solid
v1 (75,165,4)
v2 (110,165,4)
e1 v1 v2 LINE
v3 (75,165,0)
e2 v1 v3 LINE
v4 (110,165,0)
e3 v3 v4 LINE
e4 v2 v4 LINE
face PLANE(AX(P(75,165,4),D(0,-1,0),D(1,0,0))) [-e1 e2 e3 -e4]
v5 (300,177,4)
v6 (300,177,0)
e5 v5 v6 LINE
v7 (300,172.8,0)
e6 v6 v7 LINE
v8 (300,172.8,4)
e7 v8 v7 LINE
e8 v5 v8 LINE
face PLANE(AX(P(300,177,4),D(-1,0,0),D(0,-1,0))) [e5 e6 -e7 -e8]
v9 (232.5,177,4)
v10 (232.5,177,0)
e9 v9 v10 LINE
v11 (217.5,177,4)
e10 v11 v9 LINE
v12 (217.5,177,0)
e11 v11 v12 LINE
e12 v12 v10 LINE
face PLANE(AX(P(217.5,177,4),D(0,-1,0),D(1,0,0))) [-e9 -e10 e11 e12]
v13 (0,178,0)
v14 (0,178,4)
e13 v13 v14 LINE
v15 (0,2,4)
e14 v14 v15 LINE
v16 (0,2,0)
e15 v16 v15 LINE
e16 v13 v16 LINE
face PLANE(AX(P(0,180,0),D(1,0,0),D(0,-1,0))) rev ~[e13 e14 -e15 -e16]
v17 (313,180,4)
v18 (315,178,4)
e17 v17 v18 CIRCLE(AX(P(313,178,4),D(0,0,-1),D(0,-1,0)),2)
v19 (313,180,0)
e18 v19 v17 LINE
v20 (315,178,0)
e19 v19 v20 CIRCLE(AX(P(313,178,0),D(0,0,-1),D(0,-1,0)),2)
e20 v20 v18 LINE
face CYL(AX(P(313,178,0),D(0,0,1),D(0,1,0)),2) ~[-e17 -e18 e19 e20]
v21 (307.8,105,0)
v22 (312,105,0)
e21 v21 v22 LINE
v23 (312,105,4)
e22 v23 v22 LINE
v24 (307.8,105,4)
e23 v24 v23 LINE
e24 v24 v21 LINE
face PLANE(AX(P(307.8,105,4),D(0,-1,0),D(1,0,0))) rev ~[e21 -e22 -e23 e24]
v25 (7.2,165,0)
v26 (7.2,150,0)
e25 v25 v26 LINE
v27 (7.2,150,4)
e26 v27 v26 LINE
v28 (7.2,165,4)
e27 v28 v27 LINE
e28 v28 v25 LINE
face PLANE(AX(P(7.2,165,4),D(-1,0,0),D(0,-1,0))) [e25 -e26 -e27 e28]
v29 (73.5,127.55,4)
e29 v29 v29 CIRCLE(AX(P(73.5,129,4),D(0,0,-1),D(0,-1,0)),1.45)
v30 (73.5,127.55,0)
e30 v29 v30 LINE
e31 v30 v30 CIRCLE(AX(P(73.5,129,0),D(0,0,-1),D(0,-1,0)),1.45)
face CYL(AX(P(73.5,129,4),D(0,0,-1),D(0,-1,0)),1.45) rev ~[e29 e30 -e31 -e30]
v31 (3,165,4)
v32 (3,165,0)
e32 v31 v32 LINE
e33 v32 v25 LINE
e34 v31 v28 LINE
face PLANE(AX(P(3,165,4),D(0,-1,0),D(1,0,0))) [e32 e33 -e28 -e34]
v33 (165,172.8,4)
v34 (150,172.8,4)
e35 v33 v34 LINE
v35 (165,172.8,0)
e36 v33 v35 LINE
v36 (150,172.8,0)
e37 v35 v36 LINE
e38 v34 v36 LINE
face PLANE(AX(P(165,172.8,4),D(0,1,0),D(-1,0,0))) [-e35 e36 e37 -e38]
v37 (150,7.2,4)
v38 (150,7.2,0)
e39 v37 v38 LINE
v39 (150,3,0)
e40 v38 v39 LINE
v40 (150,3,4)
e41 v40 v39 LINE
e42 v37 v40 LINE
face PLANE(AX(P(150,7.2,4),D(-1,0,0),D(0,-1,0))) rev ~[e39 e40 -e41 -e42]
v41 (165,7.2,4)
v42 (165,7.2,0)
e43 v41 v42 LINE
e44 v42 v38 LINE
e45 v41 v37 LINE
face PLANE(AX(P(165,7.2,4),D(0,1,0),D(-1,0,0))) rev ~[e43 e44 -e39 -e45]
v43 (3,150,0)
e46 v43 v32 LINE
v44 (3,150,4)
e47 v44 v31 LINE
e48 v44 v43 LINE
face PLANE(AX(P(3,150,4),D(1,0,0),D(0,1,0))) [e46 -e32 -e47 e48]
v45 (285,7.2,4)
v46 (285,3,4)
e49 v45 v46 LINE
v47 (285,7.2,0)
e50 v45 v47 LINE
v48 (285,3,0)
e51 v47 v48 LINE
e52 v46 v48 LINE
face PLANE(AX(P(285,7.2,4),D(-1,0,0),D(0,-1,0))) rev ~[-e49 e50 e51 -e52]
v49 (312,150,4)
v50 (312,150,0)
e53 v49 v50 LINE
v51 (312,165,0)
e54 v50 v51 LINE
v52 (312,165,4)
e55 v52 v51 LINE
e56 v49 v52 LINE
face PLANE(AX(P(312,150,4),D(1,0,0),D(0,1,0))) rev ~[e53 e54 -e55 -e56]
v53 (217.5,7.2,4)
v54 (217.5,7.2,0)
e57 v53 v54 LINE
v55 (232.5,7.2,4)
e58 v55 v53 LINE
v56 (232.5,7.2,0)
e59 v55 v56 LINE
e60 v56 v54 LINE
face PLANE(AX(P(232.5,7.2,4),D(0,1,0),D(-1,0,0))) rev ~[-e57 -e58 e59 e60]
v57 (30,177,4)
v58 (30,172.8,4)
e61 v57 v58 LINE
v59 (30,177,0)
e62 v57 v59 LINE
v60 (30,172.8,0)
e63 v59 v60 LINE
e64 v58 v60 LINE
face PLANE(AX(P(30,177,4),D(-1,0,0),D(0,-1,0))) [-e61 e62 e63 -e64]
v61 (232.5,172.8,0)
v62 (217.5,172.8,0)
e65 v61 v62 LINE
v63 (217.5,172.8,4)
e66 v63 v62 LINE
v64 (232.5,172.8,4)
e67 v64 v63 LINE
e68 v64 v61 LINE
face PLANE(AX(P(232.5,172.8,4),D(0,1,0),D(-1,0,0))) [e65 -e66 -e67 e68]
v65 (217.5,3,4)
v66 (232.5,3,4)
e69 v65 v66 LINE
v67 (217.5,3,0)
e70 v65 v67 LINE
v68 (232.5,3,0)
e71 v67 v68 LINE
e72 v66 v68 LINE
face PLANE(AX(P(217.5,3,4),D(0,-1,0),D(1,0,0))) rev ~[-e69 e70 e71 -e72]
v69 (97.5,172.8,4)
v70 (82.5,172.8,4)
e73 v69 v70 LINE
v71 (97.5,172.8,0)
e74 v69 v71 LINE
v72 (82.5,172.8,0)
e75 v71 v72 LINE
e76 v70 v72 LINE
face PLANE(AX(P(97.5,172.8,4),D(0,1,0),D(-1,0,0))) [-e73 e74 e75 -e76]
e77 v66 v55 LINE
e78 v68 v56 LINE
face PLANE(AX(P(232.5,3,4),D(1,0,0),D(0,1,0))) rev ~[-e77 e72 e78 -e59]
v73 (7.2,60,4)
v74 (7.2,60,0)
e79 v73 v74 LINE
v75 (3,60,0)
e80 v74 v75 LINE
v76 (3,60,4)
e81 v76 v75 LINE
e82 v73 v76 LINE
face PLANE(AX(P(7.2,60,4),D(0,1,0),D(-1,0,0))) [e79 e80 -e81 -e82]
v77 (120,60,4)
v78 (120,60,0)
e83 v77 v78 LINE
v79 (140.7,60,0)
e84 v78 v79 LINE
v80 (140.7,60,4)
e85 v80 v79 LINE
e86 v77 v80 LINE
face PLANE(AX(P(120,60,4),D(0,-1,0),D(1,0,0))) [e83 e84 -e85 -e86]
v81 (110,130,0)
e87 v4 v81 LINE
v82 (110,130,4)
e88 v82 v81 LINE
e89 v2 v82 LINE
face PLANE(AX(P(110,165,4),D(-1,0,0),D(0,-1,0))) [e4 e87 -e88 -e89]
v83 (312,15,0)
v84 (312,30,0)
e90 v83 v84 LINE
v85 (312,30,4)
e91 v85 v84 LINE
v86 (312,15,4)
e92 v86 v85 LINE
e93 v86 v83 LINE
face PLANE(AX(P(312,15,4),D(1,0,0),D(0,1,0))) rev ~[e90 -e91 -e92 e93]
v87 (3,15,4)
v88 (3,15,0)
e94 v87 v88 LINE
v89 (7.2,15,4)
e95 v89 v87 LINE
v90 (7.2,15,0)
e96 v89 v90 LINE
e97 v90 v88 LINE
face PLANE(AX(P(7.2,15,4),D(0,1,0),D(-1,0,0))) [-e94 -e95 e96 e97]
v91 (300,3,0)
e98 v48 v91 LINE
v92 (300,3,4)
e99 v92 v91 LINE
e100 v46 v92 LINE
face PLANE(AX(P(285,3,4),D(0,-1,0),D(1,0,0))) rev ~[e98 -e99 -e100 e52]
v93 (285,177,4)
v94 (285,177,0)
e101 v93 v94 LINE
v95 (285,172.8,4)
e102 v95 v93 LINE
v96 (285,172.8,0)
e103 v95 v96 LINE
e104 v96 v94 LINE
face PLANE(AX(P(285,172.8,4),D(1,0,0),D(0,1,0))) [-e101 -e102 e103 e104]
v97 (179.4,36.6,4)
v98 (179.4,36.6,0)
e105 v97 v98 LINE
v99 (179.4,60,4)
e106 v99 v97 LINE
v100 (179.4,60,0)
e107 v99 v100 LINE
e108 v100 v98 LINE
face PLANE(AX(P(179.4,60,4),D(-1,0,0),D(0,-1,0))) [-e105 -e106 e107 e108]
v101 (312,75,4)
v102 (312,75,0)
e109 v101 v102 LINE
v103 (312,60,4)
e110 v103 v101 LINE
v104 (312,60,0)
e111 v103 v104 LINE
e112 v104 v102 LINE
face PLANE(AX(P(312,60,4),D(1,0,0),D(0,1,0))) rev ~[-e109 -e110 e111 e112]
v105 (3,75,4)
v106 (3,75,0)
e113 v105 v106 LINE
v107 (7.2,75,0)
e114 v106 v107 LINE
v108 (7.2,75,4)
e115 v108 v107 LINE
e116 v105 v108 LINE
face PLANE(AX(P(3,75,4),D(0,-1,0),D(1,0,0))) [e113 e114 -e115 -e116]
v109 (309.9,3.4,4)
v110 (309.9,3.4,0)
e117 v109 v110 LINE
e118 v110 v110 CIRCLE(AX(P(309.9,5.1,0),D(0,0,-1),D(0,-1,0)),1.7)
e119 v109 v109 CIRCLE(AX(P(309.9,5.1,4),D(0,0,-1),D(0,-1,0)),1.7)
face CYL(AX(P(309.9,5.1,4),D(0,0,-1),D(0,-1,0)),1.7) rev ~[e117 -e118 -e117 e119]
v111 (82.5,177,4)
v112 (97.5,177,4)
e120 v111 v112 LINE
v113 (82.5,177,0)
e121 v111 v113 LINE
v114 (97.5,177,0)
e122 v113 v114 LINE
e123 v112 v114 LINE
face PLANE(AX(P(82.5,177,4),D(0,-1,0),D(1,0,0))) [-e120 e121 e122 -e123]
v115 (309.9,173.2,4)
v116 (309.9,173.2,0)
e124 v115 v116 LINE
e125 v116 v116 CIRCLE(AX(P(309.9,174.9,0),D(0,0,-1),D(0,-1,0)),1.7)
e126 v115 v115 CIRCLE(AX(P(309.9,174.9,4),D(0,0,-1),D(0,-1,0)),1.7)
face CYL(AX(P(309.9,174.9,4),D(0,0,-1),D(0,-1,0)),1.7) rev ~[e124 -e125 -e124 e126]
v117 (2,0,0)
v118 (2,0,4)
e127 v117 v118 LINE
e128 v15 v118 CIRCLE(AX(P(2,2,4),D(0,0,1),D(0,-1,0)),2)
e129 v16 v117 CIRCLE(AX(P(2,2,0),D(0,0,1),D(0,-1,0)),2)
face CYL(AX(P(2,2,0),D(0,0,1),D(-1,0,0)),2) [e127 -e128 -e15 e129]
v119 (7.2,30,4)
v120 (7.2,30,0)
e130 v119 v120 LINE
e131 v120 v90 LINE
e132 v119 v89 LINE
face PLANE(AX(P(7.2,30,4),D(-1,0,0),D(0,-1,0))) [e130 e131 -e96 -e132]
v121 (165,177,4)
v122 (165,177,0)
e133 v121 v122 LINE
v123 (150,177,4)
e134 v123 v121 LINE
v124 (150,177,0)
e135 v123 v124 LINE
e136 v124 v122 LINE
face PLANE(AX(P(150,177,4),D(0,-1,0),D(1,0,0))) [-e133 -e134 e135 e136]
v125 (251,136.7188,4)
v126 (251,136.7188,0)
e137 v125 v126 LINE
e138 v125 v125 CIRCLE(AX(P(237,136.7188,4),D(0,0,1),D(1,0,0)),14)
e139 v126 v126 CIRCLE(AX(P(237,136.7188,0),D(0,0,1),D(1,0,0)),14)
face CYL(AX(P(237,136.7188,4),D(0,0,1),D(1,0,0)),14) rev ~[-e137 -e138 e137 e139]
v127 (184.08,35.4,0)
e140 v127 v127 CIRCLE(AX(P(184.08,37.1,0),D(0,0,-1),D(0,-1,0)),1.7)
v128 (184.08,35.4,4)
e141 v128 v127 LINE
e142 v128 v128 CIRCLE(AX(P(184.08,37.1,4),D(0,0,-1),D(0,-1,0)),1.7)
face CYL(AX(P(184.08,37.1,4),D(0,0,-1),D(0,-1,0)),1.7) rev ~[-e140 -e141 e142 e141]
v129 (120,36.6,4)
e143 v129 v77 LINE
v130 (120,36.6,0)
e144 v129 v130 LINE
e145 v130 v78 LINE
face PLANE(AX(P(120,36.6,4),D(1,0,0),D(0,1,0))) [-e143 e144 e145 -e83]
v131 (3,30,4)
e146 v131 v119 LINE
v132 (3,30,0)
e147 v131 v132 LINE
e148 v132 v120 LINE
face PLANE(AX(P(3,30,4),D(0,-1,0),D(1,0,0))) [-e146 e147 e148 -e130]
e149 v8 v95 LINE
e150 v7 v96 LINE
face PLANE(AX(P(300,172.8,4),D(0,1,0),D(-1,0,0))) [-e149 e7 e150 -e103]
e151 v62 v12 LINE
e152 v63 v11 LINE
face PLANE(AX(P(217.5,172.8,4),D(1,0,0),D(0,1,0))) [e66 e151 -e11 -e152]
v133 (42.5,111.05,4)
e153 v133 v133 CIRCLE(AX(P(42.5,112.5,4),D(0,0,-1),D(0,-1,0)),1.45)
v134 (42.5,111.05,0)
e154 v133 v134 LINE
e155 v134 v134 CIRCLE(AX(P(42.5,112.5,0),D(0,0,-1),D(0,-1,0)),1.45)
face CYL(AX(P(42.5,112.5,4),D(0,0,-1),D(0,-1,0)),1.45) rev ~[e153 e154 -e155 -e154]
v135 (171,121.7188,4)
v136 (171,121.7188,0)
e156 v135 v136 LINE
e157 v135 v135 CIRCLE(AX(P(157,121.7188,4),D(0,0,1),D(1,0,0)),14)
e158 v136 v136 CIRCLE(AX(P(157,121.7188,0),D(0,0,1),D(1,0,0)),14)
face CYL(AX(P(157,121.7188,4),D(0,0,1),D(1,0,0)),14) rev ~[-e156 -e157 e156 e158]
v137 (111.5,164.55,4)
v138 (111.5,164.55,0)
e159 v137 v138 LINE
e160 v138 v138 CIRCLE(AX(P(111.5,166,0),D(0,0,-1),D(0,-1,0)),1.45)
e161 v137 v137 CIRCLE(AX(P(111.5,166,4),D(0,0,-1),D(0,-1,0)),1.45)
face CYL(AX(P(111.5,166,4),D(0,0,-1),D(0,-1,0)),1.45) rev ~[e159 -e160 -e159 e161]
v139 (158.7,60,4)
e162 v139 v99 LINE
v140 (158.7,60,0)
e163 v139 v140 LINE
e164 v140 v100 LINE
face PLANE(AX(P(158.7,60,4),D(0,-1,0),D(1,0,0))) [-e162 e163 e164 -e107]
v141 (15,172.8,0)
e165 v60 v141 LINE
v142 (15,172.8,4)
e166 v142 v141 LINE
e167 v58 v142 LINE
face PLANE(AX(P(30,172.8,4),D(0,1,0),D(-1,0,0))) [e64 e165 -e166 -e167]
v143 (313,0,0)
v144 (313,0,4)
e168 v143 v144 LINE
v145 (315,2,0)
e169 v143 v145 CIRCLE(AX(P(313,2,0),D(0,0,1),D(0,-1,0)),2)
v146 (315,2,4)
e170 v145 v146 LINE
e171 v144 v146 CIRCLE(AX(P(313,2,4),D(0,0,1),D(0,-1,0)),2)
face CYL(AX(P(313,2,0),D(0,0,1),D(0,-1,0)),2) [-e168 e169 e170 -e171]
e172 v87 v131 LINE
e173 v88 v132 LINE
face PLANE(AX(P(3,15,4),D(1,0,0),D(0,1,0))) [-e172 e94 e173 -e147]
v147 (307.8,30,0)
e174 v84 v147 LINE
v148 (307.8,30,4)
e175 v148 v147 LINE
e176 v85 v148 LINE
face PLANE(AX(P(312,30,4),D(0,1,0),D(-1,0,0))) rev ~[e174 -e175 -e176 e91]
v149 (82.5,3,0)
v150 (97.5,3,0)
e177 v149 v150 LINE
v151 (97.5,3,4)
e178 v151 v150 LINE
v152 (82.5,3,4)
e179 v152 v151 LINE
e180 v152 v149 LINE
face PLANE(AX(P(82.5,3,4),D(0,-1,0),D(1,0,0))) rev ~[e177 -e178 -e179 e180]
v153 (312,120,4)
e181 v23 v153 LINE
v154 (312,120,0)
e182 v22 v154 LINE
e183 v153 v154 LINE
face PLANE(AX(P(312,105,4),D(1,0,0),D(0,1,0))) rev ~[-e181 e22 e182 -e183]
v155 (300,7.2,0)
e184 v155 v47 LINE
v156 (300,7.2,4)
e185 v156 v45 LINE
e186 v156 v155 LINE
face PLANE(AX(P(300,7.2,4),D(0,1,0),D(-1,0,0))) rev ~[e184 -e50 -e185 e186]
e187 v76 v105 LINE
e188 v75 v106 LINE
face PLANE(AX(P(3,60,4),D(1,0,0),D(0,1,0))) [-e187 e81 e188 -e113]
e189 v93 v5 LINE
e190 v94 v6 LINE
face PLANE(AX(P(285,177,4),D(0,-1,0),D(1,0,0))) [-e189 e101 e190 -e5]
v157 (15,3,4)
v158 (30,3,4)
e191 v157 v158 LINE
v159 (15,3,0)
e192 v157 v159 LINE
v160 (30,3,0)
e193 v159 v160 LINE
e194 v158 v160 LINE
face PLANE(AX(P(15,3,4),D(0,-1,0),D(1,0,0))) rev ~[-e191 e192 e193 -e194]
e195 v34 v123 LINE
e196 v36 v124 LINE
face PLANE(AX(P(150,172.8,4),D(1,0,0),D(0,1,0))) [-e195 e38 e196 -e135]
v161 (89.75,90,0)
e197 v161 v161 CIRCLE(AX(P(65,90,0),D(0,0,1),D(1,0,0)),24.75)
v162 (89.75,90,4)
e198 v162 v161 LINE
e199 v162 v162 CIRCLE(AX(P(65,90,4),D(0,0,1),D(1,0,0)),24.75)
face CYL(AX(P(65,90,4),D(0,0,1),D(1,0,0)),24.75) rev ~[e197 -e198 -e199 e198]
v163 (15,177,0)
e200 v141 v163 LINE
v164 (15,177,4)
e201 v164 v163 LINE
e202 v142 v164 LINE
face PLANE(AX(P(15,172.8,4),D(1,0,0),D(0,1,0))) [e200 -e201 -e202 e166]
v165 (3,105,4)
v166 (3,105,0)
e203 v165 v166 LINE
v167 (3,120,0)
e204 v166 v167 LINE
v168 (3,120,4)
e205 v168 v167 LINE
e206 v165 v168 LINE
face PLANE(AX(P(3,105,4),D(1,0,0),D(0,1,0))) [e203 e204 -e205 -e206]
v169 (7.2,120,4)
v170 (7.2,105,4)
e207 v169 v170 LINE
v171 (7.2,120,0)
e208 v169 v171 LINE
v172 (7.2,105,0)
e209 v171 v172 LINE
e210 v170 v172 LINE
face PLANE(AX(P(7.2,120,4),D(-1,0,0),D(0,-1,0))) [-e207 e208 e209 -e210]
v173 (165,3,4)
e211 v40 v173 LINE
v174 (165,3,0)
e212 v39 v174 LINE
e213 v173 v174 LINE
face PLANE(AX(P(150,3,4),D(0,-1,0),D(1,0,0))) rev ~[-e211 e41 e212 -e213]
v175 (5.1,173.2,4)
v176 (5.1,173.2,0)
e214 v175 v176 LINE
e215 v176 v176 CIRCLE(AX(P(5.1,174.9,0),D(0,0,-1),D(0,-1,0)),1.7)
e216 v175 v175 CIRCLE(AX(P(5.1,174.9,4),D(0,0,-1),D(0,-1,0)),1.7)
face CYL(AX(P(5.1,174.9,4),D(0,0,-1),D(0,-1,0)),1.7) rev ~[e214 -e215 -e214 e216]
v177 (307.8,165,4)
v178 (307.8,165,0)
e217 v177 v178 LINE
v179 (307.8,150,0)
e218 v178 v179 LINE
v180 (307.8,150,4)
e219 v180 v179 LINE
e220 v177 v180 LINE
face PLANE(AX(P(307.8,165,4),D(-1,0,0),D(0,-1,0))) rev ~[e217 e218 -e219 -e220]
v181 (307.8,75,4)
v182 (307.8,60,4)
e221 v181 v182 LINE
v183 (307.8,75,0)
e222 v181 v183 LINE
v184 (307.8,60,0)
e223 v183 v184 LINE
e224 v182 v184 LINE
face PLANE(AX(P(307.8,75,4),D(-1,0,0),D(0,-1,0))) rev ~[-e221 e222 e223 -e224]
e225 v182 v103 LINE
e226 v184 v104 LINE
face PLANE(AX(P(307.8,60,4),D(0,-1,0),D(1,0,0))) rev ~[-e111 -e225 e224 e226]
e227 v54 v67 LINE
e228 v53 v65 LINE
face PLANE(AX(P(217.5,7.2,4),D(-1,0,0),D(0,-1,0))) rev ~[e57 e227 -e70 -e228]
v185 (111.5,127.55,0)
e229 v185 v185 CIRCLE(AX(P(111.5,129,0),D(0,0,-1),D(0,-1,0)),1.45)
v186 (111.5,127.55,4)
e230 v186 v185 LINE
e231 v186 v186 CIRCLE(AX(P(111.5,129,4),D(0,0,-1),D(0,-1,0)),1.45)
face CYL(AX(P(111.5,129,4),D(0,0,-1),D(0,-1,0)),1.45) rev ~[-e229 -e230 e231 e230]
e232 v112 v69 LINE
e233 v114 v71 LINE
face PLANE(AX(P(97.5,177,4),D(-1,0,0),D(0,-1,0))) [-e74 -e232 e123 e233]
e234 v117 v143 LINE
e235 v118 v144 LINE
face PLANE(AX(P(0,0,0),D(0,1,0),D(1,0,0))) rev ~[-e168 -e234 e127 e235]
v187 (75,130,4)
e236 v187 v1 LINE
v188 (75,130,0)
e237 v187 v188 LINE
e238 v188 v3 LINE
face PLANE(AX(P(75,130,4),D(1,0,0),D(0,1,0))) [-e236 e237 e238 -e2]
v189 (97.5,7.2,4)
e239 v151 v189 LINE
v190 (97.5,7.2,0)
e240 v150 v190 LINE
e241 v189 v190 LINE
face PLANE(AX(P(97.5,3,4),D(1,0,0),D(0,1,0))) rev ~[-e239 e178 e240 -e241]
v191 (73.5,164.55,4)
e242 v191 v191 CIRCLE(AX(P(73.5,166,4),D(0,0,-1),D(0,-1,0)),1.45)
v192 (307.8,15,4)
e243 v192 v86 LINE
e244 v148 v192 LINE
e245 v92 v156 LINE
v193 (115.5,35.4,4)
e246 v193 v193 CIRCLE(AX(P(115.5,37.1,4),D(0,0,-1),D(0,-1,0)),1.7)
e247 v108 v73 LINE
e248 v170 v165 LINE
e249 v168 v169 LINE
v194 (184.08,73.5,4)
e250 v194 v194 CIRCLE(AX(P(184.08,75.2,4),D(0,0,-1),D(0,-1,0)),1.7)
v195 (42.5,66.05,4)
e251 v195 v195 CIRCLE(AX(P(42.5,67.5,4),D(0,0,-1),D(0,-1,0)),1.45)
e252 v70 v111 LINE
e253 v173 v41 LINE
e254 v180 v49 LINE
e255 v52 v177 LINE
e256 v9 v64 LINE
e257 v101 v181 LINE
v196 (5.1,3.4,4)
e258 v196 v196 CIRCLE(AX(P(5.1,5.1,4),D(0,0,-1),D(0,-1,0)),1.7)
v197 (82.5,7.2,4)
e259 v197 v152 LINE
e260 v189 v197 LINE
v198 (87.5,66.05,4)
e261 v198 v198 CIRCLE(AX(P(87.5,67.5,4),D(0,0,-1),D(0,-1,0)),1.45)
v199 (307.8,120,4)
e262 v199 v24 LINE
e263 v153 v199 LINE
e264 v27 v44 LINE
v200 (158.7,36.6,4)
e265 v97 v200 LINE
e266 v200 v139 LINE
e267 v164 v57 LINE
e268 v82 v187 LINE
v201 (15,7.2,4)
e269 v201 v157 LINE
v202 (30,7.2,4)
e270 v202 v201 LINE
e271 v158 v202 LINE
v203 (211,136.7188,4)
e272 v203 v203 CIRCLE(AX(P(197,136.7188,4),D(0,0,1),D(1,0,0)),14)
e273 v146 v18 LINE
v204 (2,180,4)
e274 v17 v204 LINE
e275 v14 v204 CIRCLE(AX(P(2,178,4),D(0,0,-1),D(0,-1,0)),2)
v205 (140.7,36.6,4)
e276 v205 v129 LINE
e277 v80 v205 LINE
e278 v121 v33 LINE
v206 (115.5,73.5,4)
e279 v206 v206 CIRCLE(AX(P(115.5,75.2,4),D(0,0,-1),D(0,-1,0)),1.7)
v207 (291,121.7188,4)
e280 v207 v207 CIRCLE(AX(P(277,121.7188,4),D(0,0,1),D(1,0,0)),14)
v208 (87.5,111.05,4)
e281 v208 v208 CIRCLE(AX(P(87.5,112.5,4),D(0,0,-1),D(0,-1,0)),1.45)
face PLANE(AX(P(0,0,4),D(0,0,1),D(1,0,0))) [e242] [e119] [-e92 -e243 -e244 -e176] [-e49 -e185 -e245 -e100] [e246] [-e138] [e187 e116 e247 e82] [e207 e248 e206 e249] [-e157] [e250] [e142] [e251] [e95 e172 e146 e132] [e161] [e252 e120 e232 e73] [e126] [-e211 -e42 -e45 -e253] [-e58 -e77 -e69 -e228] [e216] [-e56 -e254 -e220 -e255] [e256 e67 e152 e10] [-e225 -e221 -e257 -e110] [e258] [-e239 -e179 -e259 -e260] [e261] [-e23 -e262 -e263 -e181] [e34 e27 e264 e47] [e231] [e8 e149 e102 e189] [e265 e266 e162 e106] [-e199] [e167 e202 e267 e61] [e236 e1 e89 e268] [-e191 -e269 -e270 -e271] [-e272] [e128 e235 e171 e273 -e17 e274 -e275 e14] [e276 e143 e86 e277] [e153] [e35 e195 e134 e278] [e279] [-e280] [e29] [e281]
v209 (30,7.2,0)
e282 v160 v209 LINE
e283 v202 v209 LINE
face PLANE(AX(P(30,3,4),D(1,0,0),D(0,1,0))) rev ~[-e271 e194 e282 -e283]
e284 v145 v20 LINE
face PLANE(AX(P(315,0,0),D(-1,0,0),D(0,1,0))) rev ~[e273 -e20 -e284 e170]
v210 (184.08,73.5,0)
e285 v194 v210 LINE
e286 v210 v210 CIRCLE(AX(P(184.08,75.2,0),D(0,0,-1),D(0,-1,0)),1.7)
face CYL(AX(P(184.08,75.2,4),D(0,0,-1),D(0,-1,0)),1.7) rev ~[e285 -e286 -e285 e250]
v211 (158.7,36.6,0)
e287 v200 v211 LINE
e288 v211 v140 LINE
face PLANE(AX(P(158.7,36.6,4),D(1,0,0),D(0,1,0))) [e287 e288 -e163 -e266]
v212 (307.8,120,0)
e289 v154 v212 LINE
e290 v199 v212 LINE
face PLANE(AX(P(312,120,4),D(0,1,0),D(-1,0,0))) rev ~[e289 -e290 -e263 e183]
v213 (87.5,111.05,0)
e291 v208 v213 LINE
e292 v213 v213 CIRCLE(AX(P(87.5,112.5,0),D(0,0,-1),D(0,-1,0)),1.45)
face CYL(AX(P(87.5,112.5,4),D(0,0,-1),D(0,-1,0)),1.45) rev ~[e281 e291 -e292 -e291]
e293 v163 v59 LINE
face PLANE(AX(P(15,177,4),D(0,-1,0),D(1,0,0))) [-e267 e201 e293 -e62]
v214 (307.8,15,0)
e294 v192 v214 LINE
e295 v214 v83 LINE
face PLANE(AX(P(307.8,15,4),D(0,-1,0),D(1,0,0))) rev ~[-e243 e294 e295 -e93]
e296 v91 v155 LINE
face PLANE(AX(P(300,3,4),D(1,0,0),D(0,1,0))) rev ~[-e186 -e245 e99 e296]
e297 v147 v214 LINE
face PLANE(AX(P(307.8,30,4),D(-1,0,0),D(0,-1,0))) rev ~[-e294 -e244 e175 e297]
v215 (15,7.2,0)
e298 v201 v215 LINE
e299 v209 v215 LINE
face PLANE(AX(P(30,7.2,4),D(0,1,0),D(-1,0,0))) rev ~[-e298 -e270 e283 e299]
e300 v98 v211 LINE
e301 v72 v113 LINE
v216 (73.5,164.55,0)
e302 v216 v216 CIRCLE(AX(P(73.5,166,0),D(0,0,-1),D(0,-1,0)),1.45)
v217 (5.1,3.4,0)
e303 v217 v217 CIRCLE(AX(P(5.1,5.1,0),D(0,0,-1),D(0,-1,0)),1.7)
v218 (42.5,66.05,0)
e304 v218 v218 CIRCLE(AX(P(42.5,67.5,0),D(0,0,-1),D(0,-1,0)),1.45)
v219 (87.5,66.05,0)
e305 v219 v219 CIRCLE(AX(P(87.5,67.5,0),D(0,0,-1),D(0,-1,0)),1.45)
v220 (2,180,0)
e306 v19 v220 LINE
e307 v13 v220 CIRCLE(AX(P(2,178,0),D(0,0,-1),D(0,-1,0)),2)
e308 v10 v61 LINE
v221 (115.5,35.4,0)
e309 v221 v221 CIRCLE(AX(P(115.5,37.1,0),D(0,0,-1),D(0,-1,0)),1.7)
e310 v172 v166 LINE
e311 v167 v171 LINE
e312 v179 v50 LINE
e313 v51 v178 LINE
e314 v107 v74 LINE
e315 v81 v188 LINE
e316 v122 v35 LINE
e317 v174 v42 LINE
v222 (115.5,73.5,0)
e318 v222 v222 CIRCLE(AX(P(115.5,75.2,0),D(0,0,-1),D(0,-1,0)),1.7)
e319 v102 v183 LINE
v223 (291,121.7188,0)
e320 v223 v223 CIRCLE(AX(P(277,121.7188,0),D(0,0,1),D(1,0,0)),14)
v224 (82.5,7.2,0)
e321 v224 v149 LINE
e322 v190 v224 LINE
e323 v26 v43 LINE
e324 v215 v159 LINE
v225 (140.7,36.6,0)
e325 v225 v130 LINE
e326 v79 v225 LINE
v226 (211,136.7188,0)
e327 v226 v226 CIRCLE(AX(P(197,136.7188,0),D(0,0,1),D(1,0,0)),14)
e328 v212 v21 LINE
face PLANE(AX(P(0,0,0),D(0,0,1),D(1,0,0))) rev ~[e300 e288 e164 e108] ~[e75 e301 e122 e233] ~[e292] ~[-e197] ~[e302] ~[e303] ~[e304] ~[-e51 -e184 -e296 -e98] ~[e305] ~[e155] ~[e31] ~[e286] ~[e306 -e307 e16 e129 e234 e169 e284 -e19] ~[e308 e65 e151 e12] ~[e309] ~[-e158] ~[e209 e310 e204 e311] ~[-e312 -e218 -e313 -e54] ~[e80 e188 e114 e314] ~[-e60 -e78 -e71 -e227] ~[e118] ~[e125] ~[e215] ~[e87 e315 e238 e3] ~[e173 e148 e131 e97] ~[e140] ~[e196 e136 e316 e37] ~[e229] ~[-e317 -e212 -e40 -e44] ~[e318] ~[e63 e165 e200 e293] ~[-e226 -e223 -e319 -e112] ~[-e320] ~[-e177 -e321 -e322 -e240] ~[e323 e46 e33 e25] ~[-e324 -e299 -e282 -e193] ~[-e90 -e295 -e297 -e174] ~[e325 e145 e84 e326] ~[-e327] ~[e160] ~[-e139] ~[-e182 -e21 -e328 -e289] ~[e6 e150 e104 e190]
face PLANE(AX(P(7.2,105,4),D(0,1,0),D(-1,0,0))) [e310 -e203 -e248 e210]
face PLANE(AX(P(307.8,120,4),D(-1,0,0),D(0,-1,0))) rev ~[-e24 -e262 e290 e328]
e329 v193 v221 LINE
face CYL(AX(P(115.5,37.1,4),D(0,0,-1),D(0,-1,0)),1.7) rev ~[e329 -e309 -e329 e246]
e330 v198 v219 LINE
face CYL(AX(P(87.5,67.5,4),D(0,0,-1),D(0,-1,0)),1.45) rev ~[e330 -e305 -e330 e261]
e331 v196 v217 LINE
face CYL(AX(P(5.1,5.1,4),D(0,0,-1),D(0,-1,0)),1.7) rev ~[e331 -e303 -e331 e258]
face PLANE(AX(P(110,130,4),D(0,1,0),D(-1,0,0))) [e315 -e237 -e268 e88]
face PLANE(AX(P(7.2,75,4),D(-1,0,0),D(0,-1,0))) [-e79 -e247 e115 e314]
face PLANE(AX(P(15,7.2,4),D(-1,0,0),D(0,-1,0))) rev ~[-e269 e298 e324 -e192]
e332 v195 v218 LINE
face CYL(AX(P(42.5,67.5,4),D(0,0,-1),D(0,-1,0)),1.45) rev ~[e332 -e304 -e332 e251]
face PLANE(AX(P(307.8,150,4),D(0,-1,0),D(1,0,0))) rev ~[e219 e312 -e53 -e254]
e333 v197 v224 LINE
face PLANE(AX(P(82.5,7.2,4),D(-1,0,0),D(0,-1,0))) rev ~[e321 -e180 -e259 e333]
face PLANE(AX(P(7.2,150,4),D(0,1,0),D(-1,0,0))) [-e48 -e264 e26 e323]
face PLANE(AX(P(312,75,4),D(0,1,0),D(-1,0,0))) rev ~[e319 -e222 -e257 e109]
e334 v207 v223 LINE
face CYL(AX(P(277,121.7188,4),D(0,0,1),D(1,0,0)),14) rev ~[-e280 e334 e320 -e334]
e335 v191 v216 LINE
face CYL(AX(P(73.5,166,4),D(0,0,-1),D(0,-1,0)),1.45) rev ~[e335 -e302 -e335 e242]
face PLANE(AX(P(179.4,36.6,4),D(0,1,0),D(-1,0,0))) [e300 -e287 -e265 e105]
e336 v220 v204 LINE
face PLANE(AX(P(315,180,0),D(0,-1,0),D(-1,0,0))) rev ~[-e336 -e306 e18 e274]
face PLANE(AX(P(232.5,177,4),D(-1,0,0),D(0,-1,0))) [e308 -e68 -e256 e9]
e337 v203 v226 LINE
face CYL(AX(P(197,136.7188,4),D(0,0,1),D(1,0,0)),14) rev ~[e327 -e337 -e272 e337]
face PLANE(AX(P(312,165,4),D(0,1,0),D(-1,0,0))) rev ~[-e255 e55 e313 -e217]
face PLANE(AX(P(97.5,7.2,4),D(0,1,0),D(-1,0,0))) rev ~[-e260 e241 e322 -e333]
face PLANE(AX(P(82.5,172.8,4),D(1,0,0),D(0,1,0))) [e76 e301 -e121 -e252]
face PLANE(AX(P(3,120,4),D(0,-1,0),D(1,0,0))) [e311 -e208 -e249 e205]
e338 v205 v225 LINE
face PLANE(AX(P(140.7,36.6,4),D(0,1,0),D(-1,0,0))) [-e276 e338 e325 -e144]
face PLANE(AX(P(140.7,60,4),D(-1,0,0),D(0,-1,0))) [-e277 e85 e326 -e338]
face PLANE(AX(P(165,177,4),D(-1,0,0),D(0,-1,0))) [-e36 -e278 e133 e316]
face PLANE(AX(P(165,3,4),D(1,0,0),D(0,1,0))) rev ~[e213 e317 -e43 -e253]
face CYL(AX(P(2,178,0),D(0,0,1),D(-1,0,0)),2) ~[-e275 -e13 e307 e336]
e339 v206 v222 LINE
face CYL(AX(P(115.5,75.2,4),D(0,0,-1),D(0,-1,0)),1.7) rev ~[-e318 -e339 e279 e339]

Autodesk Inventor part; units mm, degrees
ref_plane "Plan YZ" through (0, 0, 0) normal (1, 0, 0) x (0, 1, 0)
ref_plane "Plan XZ" through (0, 0, 0) normal (0, 1, 0) x (-1, 0, 0)
ref_plane "Plan XY" through (0, 0, 0) normal (0, 0, 1) x (1, 0, 0)
sketch "Esquisse1" plane through (0, 0, 0) normal (0, 0, 1) x (1, 0, 0)
  line L0 (0, 0) -> (315, 0)
  line L1 (315, 0) -> (315, 180)
  line L2 (315, 180) -> (0, 180)
  line L3 (0, 180) -> (0, 0)
  dimension "d0" = 315
  dimension "d1" = 180
extrude "Extrusion1" add sketch "Esquisse1" along normal blind 4
sketch "Esquisse6" plane through (0, 0, 4) normal (0, 0, 1) x (1, 0, 0)
  line L0 (15, 177) -> (30, 177)
  line L1 (30, 177) -> (30, 172.8)
  line L2 (30, 172.8) -> (15, 172.8)
  line L3 (15, 172.8) -> (15, 177)
  line L4 (157.5, 180) -> (0, 180)
  line L5 (0, 180) -> (0, 0) construction
  line L6 (-223.9576, 90) -> (217.0424, 90) construction
  line L7 (82.5, 177) -> (97.5, 177)
  line L8 (97.5, 177) -> (97.5, 172.8)
  line L9 (97.5, 172.8) -> (82.5, 172.8)
  line L10 (82.5, 172.8) -> (82.5, 177)
  line L11 (150, 177) -> (165, 177)
  line L12 (165, 177) -> (165, 172.8)
  line L13 (165, 172.8) -> (150, 172.8)
  line L14 (150, 172.8) -> (150, 177)
  line L15 (217.5, 177) -> (232.5, 177)
  line L16 (232.5, 177) -> (232.5, 172.8)
  line L17 (232.5, 172.8) -> (217.5, 172.8)
  line L18 (217.5, 172.8) -> (217.5, 177)
  line L19 (285, 177) -> (300, 177)
  line L20 (300, 177) -> (300, 172.8)
  line L21 (300, 172.8) -> (285, 172.8)
  line L22 (285, 172.8) -> (285, 177)
  line L23 (217.5, 7.2) -> (217.5, 3)
  line L24 (232.5, 7.2) -> (217.5, 7.2)
  line L25 (232.5, 3) -> (232.5, 7.2)
  line L26 (285, 7.2) -> (285, 3)
  line L27 (300, 7.2) -> (285, 7.2)
  line L28 (285, 3) -> (300, 3)
  line L29 (300, 3) -> (300, 7.2)
  line L30 (217.5, 3) -> (232.5, 3)
  line L31 (30, 3) -> (30, 7.2)
  line L32 (15, 3) -> (30, 3)
  line L33 (30, 7.2) -> (15, 7.2)
  line L34 (15, 7.2) -> (15, 3)
  line L35 (165, 3) -> (165, 7.2)
  line L36 (150, 3) -> (165, 3)
  line L37 (165, 7.2) -> (150, 7.2)
  line L38 (150, 7.2) -> (150, 3)
  line L39 (97.5, 3) -> (97.5, 7.2)
  line L40 (97.5, 7.2) -> (82.5, 7.2)
  line L41 (82.5, 7.2) -> (82.5, 3)
  line L42 (82.5, 3) -> (97.5, 3)
  line L43 (75.5922, -128.4125) -> (75.5922, 126) construction
  line L44 (0, 180) -> (0, 0) projected
  line L45 (3, 165) -> (7.2, 165)
  line L46 (7.2, 165) -> (7.2, 150)
  line L47 (7.2, 150) -> (3, 150)
  line L48 (3, 150) -> (3, 165)
  line L49 (0, 180) -> (0, -90) construction
  line L50 (157.5, 180) -> (0, 180) construction
  line L51 (157.5, 118.9778) -> (157.5, 83.4509) construction
  line L52 (3, 120) -> (7.2, 120)
  line L53 (7.2, 120) -> (7.2, 105)
  line L54 (7.2, 105) -> (3, 105)
  line L55 (3, 105) -> (3, 120)
  line L56 (3, 75) -> (7.2, 75)
  line L57 (7.2, 75) -> (7.2, 60)
  line L58 (7.2, 60) -> (3, 60)
  line L59 (3, 60) -> (3, 75)
  line L60 (3, 30) -> (7.2, 30)
  line L61 (7.2, 30) -> (7.2, 15)
  line L62 (7.2, 15) -> (3, 15)
  line L63 (3, 15) -> (3, 30)
  line L64 (307.8, 105) -> (312, 105)
  line L65 (307.8, 120) -> (307.8, 105)
  line L66 (312, 105) -> (312, 120)
  line L67 (312, 120) -> (307.8, 120)
  line L68 (307.8, 150) -> (312, 150)
  line L69 (312, 150) -> (312, 165)
  line L70 (307.8, 165) -> (307.8, 150)
  line L71 (312, 165) -> (307.8, 165)
  line L72 (312, 75) -> (307.8, 75)
  line L73 (307.8, 75) -> (307.8, 60)
  line L74 (307.8, 60) -> (312, 60)
  line L75 (312, 30) -> (307.8, 30)
  line L76 (307.8, 30) -> (307.8, 15)
  line L77 (312, 60) -> (312, 75)
  line L78 (312, 15) -> (312, 30)
  line L79 (307.8, 15) -> (312, 15)
  line L80 (315, 180) -> (0, 180) projected
  line L81 (0, 0) -> (315, 180) construction
  line L82 (315, 0) -> (0, 180) construction
  point P0 (157.5, 83.4509)
  point P1 (157.5, 90)
  point P2 (157.5, 90)
  dimension "d107" = 15
  dimension "d108" = 4.2
  dimension "d109" = 3
  dimension "d110" = 15
  dimension "d111" = 67.5
  dimension "d117" = 4.2
  dimension "d118" = 15
  dimension "d119" = 3
  dimension "d120" = 15
  dimension "d121" = 45
extrude "Extrusion2" cut sketch "Esquisse6" against normal blind 4
sketch "Esquisse8" plane through (0, 0, 4) normal (0, 0, 1) x (1, 0, 0)
  line L0 (0, 180) -> (0, 0) projected
  line L1 (315, 180) -> (0, 180) projected
  point P0 (5.1, 174.9)
  dimension "d39" = 5.1
  dimension "d40" = 5.1
hole "Perçage2" at (5.1, 174.9, 4) direction (0, 0, -1) diameter 3.4 end through all
pattern_linear "Réseau rectangulaire2" count 2 spacing 304.8 along (1, 0, 0) count 2 spacing 169.8 along (0, -1, 0) of "Perçage2"
sketch "Esquisse10" plane through (0, 0, 4) normal (0, 0, 1) x (1, 0, 0)
  circle A0 centre (65, 90) radius 24.75
  line L0 (315, 180) -> (0, 180) projected
  line L1 (-375.2445, 90) -> (140.113, 90) construction
  line L2 (-117.5657, 90) -> (-117.5657, 0) construction
  line L3 (-117.5657, 90) -> (-117.5657, 180) construction
  line L4 (0, 0) -> (315, 0) construction
  line L5 (0, 180) -> (0, 0) construction
  dimension "d64" = 49.5
  dimension "d66" = 65
extrude "Extrusion3" cut sketch "Esquisse10" against normal blind 4
sketch "Esquisse9" plane through (0, 0, 4) normal (0, 0, 1) x (1, 0, 0)
  circle A0 centre (65, 90) radius 24.75 projected
  point P0 (0, 0)
  point P1 (42.5, 112.5)
  dimension "d62" = 22.5
  dimension "d63" = 22.5
hole "Perçage3" at (42.5, 112.5, 4) direction (0, 0, -1) diameter 2.9 end through all
pattern_linear "Réseau rectangulaire3" count 2 spacing 45 along (1, 0, 0) count 2 spacing 45 along (0, -1, 0) of "Perçage3"
sketch "Esquisse11" plane through (0, 0, 4) normal (0, 0, 1) x (1, 0, 0)
  line L0 (120, 60) -> (140.7, 60)
  line L1 (140.7, 60) -> (140.7, 36.6)
  line L2 (140.7, 36.6) -> (120, 36.6)
  line L3 (120, 36.6) -> (120, 60)
  line L4 (158.7, 60) -> (179.4, 60)
  line L5 (179.4, 60) -> (179.4, 36.6)
  line L6 (179.4, 36.6) -> (158.7, 36.6)
  line L7 (158.7, 36.6) -> (158.7, 60)
  line L8 (315, 180) -> (0, 180) projected
  line L9 (315, 0) -> (315, 180) projected
  line L10 (0, 180) -> (0, 0) projected
  dimension "d67" = 23.4
  dimension "d68" = 20.7
  dimension "d69" = 18
  dimension "d83" = 120
  dimension "d84" = 120
extrude "Extrusion4" cut sketch "Esquisse11" against normal blind 4
sketch "Esquisse12" plane through (0, 0, 4) normal (0, 0, 1) x (1, 0, 0)
  circle A0 centre (277, 121.7188) radius 14
  circle A1 centre (197, 136.7188) radius 14
  circle A2 centre (157, 121.7188) radius 14
  circle A3 centre (237, 136.7188) radius 14
  line L0 (315, 0) -> (315, 180) projected
  line L1 (0, 0) -> (315, 0) projected
  line L2 (315, 180) -> (0, 180) projected
  line L3 (197, 136.7188) -> (215.7332, 136.7188) construction
  line L4 (157, 121.7188) -> (273.4318, 121.7188) construction
  dimension "d77" = 28
  dimension "d97" = 40
  dimension "d98" = 40
  dimension "d99" = 40
  dimension "d100" = 15
  dimension "d101" = 58.2812
  dimension "d102" = 38
extrude "Extrusion5" cut sketch "Esquisse12" against normal blind 4
sketch "Esquisse13" plane through (0, 0, 4) normal (0, 0, 1) x (1, 0, 0)
  line L0 (120, 36.6) -> (120, 60) projected
  line L1 (120, 60) -> (140.7, 60) projected
  line L2 (140.7, 36.6) -> (120, 36.6) projected
  point P0 (0, 0)
  point P1 (115.5, 37.1)
  dimension "d136" = 4.5
  dimension "d138" = 0.5
hole "Perçage4" at (115.5, 37.1, 4) direction (0, 0, -1) diameter 3.4 end through all
pattern_linear "Réseau rectangulaire4" count 2 spacing 68.58 along (1, 0, 0) count 2 spacing 38.1 along (0, 1, 0) of "Perçage4"
sketch "Esquisse14" plane through (0, 0, 4) normal (0, 0, 1) x (1, 0, 0)
  line L0 (75, 165) -> (110, 165)
  line L1 (110, 165) -> (110, 130)
  line L2 (110, 130) -> (75, 130)
  line L3 (75, 130) -> (75, 165)
  line L4 (0, 180) -> (0, 0) projected
  line L5 (315, 180) -> (0, 180) projected
  dimension "d139" = 35
  dimension "d140" = 35
  dimension "d160" = 75
  dimension "d161" = 15
extrude "Extrusion6" cut sketch "Esquisse14" against normal blind 10
sketch "Esquisse15" plane through (0, 0, 4) normal (0, 0, 1) x (1, 0, 0)
  line L0 (75, 165) -> (110, 165) projected
  line L1 (75, 130) -> (75, 165) projected
  line L2 (73.5, 166) -> (111.5, 166) construction
  line L3 (111.5, 166) -> (111.5, 129) construction
  line L4 (111.5, 129) -> (73.5, 129) construction
  line L5 (73.5, 129) -> (73.5, 166) construction
  line L6 (75, 130) -> (110, 165) construction
  line L7 (110, 130) -> (75, 165) construction
  line L8 (82.1393, 147.5) -> (102.401, 147.5) construction
  line L9 (92.5, 147.5) -> (92.5, 159.5657) construction
  point P0 (0, 0)
  dimension "d158" = 37
  dimension "d159" = 38
hole "Perçage5" at (73.5, 166, 4) at (111.5, 166, 4) at (111.5, 129, 4) at (73.5, 129, 4) direction (0, 0, -1) diameter 2.9 end through all
fillet "Congé1" radius 2 4 edges at (0, 180, 2) (0, 0, 2) (315, 0, 2) (315, 180, 2)
properties part number "P1704_021" material "."
